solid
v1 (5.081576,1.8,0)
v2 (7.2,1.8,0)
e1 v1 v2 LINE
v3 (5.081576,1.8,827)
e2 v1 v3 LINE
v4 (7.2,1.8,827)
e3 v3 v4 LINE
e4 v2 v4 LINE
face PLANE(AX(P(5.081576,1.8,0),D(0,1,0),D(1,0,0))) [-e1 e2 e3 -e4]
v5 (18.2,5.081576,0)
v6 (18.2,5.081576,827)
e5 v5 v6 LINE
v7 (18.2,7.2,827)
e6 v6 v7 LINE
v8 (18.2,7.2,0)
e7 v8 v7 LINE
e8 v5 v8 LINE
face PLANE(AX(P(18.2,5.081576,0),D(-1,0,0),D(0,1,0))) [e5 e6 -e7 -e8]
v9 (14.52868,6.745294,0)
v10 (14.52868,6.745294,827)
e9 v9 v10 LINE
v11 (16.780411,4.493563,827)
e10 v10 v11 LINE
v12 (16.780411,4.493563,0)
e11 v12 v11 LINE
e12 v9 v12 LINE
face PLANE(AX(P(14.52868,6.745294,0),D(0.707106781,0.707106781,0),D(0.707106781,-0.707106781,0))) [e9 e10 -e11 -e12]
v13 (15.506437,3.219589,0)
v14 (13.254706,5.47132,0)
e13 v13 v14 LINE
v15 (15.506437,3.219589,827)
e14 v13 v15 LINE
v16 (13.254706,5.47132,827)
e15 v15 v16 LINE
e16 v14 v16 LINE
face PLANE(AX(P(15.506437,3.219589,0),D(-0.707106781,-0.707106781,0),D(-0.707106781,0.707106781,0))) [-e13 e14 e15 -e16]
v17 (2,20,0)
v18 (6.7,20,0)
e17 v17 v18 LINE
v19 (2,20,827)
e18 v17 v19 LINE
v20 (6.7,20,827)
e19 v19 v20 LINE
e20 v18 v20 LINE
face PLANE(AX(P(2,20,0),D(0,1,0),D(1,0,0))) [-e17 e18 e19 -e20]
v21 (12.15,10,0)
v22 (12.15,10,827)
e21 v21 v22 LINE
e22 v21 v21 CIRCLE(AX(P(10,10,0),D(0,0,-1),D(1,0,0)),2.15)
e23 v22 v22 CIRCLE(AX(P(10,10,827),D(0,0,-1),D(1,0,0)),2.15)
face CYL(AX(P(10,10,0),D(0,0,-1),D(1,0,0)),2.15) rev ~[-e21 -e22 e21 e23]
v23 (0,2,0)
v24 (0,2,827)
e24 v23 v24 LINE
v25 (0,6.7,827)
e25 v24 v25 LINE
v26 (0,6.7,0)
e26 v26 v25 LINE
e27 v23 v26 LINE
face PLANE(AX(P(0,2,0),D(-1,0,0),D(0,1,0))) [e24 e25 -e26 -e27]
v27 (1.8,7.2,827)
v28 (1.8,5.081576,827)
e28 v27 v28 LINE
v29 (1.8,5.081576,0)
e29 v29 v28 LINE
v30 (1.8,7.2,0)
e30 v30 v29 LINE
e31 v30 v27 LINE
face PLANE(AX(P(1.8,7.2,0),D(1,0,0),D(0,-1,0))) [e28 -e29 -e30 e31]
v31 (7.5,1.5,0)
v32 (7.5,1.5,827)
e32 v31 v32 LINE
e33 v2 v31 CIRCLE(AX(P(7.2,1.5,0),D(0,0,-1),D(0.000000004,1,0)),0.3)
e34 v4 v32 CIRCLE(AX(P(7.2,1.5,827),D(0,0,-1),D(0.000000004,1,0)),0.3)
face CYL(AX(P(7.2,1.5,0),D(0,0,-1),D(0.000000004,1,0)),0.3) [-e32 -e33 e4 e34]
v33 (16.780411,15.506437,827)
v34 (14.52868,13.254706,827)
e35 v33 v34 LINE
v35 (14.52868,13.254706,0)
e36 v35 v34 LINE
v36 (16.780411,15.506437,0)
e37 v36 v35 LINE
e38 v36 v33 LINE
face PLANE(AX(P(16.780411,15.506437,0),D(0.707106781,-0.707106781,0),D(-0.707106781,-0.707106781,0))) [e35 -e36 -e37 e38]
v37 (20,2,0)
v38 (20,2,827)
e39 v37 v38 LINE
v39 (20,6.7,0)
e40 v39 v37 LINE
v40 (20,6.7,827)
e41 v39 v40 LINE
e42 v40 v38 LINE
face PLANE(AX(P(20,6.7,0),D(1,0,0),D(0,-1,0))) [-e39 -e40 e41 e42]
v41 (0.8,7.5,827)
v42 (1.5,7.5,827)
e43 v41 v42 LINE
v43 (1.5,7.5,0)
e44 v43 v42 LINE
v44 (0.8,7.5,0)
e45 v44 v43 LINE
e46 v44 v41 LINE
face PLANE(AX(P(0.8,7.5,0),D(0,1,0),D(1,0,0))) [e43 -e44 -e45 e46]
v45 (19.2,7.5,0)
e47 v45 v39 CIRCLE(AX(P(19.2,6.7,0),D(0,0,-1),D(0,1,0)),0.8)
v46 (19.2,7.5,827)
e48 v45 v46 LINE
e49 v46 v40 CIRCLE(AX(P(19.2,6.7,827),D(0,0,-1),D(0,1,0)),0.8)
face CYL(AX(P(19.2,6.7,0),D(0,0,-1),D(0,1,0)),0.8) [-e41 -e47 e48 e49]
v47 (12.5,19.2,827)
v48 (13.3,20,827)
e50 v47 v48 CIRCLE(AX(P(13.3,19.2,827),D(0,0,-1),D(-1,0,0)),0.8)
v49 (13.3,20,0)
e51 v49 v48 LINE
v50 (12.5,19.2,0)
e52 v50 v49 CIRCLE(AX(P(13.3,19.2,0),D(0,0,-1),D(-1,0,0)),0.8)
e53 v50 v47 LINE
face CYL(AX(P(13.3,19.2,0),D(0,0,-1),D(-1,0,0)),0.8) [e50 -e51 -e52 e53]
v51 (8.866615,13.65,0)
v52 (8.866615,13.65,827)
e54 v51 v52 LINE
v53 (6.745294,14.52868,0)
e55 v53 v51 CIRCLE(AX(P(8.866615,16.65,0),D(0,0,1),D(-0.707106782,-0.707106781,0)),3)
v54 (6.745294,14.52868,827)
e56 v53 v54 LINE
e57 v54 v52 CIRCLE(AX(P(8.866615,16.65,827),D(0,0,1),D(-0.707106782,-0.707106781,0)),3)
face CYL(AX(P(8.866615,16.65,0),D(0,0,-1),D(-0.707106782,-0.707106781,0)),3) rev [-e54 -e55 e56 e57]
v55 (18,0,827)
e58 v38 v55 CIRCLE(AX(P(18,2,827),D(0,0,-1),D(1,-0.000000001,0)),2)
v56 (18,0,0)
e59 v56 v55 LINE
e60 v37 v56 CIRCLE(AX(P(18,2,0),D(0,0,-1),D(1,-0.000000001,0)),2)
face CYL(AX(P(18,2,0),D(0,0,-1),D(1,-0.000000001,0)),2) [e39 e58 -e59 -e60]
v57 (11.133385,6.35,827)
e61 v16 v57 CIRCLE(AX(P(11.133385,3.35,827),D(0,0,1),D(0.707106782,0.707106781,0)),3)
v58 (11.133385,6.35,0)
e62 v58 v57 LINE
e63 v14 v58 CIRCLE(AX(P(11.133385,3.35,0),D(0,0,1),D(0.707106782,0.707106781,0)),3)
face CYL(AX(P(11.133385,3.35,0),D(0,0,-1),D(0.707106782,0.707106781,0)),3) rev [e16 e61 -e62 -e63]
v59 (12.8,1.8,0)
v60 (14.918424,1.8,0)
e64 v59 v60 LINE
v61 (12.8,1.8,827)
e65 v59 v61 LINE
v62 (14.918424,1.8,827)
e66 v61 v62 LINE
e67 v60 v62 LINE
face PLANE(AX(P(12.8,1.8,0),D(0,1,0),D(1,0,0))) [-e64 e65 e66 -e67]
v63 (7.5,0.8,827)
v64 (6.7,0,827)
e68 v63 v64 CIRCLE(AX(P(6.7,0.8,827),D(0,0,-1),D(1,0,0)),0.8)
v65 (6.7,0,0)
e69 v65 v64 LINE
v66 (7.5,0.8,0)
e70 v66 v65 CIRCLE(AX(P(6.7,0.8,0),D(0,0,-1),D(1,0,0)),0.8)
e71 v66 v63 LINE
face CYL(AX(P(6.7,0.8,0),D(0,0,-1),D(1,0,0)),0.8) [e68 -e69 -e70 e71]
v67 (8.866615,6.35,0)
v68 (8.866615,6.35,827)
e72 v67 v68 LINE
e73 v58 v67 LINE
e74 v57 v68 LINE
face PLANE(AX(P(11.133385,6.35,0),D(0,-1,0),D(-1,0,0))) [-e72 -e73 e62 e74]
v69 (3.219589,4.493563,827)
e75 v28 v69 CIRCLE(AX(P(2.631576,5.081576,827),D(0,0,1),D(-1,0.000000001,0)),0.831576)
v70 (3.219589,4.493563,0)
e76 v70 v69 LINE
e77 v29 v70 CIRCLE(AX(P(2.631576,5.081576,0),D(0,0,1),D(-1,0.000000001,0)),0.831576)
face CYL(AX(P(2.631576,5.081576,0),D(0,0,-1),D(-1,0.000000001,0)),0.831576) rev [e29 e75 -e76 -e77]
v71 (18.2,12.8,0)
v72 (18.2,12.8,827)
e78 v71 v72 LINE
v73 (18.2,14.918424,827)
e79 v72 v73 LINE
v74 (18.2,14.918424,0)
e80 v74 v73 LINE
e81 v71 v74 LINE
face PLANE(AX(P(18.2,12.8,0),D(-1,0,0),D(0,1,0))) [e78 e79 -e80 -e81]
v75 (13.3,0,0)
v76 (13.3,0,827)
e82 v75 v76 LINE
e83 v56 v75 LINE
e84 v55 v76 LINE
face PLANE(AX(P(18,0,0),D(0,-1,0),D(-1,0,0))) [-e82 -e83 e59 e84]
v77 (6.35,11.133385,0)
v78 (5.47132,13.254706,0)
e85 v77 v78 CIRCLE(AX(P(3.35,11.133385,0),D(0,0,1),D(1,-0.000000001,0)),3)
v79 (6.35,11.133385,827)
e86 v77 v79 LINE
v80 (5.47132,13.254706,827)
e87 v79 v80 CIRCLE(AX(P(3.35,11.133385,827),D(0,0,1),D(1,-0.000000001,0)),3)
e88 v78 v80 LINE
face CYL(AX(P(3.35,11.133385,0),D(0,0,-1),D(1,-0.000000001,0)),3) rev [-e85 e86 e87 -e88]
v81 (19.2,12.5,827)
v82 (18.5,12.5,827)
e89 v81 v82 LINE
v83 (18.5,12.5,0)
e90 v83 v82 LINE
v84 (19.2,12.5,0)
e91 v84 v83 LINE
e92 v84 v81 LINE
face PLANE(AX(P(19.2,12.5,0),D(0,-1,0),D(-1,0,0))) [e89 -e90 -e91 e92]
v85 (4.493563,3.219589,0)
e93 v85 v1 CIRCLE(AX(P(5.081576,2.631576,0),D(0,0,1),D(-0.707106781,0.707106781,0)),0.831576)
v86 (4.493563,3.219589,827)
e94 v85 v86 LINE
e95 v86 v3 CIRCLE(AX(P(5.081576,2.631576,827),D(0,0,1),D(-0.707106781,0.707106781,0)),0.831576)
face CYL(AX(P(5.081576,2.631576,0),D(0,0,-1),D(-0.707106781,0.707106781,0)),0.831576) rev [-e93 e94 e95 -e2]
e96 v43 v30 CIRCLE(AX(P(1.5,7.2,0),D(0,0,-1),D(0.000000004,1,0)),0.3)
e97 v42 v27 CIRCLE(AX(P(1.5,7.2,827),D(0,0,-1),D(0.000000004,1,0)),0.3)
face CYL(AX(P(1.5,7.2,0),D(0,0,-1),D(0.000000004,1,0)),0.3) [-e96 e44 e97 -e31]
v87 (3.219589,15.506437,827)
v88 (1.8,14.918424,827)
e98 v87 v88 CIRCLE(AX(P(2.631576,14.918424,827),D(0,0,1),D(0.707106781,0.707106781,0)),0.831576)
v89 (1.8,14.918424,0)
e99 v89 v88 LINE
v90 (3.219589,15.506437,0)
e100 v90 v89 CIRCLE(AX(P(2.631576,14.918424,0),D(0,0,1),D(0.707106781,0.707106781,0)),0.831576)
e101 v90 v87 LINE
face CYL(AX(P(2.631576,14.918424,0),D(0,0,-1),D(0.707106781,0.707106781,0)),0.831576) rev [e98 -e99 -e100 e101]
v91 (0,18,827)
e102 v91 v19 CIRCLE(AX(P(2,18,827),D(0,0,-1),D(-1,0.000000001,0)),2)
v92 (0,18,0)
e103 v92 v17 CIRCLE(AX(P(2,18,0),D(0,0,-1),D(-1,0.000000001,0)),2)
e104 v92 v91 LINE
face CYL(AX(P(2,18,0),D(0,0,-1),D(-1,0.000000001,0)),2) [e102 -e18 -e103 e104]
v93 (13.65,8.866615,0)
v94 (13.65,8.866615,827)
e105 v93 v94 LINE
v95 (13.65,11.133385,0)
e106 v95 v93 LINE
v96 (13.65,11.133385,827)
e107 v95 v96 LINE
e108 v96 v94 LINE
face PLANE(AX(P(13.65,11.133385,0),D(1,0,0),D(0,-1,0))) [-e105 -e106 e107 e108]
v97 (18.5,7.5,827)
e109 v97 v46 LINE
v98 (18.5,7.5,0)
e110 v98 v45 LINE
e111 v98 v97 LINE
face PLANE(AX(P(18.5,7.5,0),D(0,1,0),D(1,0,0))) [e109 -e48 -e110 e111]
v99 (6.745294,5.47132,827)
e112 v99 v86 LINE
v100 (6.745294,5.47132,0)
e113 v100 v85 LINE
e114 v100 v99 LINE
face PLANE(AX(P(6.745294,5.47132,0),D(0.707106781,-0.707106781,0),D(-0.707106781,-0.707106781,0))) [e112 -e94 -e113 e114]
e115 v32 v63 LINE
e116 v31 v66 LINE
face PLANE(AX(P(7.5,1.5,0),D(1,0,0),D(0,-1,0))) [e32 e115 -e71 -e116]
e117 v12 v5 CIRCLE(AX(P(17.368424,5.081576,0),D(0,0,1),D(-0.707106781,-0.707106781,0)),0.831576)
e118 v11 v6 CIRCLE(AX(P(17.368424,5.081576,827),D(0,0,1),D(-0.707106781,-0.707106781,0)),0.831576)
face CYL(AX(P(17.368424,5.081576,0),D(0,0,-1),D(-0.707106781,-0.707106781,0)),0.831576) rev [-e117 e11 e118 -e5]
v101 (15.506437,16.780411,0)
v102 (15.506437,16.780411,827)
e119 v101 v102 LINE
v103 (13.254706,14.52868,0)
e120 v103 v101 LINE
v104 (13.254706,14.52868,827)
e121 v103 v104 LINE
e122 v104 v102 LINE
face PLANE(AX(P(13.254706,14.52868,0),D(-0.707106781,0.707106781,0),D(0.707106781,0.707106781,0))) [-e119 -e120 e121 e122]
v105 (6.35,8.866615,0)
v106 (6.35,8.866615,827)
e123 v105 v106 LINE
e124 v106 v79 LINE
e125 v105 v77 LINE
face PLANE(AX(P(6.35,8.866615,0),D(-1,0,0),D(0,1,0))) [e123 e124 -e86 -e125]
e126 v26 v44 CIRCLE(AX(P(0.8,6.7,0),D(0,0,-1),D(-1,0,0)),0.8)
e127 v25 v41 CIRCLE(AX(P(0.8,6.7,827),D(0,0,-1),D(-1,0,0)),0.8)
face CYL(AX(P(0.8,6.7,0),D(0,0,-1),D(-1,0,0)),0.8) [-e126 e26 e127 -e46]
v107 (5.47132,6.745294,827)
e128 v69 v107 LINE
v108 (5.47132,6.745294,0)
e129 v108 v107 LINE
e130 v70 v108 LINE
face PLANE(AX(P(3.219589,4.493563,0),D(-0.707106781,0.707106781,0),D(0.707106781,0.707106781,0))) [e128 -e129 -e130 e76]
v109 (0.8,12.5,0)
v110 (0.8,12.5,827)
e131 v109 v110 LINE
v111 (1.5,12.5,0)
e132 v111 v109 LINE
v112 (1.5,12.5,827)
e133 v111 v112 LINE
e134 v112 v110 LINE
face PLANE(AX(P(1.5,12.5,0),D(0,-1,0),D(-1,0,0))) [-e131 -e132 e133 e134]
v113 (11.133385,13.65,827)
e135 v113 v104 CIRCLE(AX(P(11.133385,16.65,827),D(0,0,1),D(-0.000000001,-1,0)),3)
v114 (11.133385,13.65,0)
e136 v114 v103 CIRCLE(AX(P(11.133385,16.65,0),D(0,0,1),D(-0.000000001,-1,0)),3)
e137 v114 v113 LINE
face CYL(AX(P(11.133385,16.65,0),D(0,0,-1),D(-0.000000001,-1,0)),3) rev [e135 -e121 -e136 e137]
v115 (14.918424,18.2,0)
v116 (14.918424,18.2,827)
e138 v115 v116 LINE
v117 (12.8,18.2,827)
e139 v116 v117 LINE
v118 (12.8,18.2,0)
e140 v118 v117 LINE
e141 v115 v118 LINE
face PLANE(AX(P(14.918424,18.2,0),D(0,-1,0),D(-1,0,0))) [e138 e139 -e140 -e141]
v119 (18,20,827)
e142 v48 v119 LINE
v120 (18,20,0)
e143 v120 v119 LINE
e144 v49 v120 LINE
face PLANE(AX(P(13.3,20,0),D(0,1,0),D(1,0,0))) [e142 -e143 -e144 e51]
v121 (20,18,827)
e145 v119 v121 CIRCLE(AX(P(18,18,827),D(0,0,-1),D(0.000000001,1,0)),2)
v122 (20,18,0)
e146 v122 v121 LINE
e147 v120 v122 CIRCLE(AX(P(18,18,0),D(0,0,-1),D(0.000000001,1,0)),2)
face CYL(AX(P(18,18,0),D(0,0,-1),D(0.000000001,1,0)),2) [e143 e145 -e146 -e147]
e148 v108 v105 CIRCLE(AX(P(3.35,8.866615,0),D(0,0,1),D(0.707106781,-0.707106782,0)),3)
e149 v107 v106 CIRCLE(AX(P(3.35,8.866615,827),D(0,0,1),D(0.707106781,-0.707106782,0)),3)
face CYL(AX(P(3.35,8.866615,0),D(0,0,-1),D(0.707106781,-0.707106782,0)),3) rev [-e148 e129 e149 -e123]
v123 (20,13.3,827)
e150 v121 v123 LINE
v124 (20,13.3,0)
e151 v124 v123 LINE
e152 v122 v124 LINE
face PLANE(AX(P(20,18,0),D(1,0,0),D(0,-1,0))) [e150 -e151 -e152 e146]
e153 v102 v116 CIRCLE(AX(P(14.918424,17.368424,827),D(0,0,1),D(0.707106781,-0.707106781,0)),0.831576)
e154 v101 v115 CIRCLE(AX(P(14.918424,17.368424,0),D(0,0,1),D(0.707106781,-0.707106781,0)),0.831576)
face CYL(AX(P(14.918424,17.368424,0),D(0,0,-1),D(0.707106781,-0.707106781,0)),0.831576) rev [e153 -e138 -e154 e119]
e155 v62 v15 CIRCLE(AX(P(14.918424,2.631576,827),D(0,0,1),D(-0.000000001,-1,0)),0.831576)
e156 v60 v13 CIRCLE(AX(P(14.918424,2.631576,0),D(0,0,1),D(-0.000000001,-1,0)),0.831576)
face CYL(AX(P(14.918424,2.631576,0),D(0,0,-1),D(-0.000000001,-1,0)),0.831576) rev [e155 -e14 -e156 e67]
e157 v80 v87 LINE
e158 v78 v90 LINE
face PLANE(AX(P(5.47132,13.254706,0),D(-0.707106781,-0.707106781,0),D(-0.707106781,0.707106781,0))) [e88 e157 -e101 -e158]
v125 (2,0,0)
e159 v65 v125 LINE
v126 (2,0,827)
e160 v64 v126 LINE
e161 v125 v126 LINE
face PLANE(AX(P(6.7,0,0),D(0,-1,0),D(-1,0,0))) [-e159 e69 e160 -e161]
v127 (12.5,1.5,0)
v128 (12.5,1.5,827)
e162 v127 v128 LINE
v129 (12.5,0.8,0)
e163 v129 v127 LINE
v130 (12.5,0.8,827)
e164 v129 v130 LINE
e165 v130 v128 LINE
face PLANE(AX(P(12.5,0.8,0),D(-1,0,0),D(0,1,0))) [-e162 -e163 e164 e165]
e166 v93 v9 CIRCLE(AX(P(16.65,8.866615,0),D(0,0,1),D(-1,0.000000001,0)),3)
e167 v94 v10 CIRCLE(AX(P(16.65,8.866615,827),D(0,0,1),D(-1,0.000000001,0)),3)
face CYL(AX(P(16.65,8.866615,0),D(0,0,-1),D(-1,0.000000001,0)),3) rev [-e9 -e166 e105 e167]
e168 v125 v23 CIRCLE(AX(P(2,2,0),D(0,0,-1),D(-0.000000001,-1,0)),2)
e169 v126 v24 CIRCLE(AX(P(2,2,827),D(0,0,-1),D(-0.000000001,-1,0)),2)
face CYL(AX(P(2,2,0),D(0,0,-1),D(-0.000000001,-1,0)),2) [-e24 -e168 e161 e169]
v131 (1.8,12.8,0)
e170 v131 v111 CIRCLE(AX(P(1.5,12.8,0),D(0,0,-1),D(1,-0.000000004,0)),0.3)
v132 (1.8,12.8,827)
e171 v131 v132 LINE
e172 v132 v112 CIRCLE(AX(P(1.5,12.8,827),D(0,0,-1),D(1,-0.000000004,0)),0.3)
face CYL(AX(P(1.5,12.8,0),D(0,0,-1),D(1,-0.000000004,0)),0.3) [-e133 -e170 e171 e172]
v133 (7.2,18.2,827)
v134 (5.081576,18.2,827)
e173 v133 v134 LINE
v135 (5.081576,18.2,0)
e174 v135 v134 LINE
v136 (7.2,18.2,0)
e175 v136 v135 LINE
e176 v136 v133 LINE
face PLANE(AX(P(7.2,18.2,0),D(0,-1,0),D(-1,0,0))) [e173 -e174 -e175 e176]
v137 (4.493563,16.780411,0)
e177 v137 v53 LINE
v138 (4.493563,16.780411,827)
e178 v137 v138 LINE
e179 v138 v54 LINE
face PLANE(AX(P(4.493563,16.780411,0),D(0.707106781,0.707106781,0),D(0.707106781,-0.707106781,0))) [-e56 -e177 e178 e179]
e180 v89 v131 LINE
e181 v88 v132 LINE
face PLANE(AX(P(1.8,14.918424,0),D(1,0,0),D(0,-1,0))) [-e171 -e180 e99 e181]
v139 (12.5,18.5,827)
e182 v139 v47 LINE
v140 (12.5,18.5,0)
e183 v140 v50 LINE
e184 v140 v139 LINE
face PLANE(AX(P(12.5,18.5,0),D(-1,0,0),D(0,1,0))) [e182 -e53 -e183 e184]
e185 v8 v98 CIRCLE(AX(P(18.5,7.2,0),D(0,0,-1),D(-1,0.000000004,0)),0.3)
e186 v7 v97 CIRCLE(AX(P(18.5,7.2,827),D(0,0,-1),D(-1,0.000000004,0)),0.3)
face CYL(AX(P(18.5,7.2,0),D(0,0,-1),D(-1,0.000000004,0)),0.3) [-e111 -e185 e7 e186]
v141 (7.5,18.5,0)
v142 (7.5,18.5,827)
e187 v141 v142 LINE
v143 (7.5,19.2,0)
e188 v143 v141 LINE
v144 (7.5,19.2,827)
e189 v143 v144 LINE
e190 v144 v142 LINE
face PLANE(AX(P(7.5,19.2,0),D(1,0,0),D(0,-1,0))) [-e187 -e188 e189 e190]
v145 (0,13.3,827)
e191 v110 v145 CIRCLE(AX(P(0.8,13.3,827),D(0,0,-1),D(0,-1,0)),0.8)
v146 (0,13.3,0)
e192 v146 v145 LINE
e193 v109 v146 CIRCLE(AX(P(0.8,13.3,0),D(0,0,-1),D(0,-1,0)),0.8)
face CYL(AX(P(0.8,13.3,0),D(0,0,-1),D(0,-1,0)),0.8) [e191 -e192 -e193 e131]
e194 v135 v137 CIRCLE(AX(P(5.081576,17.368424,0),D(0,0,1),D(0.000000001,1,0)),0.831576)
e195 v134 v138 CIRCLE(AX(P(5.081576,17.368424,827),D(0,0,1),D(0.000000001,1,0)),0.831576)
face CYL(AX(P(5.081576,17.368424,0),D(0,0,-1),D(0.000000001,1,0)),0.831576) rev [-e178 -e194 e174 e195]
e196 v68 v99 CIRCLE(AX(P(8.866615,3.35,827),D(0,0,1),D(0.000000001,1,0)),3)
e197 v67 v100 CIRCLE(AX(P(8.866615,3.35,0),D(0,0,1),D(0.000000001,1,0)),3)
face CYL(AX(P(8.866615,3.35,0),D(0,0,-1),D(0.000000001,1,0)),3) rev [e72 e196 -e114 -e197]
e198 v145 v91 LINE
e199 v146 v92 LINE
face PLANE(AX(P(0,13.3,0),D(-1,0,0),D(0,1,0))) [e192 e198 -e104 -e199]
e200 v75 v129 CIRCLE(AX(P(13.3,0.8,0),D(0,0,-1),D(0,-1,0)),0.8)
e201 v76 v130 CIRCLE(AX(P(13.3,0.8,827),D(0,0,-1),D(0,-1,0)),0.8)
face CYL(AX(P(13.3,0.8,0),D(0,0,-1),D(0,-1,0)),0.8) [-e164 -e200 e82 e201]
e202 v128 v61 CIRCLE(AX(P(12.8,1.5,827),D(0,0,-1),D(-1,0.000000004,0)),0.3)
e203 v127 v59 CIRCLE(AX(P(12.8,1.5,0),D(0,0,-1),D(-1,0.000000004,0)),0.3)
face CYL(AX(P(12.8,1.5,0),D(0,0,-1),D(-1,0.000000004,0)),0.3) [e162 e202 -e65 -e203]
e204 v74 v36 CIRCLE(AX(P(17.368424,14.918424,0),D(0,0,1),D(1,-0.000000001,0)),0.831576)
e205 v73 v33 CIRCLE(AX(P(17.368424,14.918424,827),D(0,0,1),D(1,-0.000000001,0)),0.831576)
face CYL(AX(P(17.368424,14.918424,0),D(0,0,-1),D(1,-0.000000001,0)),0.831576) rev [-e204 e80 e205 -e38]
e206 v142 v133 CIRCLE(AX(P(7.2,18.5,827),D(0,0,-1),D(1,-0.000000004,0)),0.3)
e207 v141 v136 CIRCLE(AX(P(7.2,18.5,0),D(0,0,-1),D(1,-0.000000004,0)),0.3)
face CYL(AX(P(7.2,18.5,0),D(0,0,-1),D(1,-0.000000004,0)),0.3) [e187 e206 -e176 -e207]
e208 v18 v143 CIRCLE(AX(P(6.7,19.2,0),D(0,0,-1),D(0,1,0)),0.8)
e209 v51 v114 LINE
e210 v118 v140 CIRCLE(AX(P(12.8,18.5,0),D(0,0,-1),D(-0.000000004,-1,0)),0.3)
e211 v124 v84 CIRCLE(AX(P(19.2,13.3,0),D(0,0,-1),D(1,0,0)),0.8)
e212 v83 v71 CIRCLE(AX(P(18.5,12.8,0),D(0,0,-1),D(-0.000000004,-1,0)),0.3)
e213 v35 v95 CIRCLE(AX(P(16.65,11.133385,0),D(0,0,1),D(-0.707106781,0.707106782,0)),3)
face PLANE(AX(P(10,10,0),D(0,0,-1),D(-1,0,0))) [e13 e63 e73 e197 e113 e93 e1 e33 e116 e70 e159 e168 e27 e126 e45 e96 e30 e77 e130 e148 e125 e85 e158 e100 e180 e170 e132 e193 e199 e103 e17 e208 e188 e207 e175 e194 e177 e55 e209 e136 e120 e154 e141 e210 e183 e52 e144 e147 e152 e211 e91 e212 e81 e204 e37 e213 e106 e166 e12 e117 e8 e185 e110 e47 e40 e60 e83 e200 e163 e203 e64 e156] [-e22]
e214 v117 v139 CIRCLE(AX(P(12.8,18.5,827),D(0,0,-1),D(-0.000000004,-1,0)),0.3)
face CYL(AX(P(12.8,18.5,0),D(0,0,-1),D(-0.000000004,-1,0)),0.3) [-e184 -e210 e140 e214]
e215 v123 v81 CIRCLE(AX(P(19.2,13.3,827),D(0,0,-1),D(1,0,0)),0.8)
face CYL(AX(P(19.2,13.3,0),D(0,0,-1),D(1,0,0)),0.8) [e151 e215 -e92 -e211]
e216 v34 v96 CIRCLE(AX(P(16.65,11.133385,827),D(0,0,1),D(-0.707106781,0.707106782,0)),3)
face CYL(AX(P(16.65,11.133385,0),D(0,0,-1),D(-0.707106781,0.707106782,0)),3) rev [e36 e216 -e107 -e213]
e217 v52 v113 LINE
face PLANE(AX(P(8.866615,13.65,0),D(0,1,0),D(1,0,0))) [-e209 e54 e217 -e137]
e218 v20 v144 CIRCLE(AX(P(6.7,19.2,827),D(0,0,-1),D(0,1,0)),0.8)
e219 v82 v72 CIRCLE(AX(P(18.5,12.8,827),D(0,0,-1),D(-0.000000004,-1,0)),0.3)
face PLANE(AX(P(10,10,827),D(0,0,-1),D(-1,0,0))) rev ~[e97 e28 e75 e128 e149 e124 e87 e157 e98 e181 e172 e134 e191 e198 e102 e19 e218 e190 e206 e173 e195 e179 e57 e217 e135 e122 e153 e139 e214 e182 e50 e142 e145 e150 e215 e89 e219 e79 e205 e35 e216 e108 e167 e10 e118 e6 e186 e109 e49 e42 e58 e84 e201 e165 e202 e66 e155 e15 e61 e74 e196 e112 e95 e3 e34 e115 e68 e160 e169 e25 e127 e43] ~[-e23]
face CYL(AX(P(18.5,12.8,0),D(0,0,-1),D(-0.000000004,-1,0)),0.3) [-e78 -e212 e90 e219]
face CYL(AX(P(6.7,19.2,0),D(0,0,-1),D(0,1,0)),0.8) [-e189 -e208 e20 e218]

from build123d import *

# Parameters (mm, degrees)
ESQUISSE1_R        = 2.15
BOSS_EXTRU_1_DEPTH = 827


with BuildPart() as part:
    # Esquisse1 → Boss.-Extru.1 (new body)
    with BuildSketch(Plane(origin=(0, 0, 0), x_dir=(-1, 0, 0), z_dir=(0, 0, -1))):
        with BuildLine():
            Line((-20, 6.7), (-20, 2))
            ThreePointArc((-20, 2), (-19.414213562, 0.585786438), (-18, 0))
            Line((-18, 0), (-13.3, 0))
            ThreePointArc((-13.3, 0), (-12.734314575, 0.234314575), (-12.5, 0.8))
            Line((-12.5, 0.8), (-12.5, 1.5))
            ThreePointArc((-12.5, 1.5), (-12.587867966, 1.712132034), (-12.8, 1.8))
            Line((-12.8, 1.8), (-14.918424061, 1.8))
            ThreePointArc((-14.918424061, 1.8), (-15.686700051, 2.313345604), (-15.506437047, 3.219588924))
            Line((-15.506437047, 3.219588924), (-13.254705627, 5.471320344))
            ThreePointArc((-13.254705627, 5.471320344), (-12.281435581, 6.121638598), (-11.133385284, 6.35))
            Line((-11.133385284, 6.35), (-8.866614716, 6.35))
            ThreePointArc((-8.866614716, 6.35), (-7.718564419, 6.121638598), (-6.745294373, 5.471320344))
            Line((-6.745294373, 5.471320344), (-4.493562953, 3.219588924))
            ThreePointArc((-4.493562953, 3.219588924), (-4.313299949, 2.313345604), (-5.081575939, 1.8))
            Line((-5.081575939, 1.8), (-7.2, 1.8))
            ThreePointArc((-7.2, 1.8), (-7.412132034, 1.712132034), (-7.5, 1.5))
            Line((-7.5, 1.5), (-7.5, 0.8))
            ThreePointArc((-7.5, 0.8), (-7.265685425, 0.234314575), (-6.7, 0))
            Line((-6.7, 0), (-2, 0))
            ThreePointArc((-2, 0), (-0.585786438, 0.585786438), (0, 2))
            Line((0, 2), (0, 6.7))
            ThreePointArc((0, 6.7), (-0.234314575, 7.265685425), (-0.8, 7.5))
            Line((-0.8, 7.5), (-1.5, 7.5))
            ThreePointArc((-1.5, 7.5), (-1.712132034, 7.412132034), (-1.8, 7.2))
            Line((-1.8, 7.2), (-1.8, 5.081575939))
            ThreePointArc((-1.8, 5.081575939), (-2.313345604, 4.313299949), (-3.219588924, 4.493562953))
            Line((-3.219588924, 4.493562953), (-5.471320344, 6.745294373))
            ThreePointArc((-5.471320344, 6.745294373), (-6.121638598, 7.718564419), (-6.35, 8.866614716))
            Line((-6.35, 8.866614716), (-6.35, 11.133385284))
            ThreePointArc((-6.35, 11.133385284), (-6.121638598, 12.281435581), (-5.471320344, 13.254705627))
            Line((-5.471320344, 13.254705627), (-3.219588924, 15.506437047))
            ThreePointArc((-3.219588924, 15.506437047), (-2.313345604, 15.686700051), (-1.8, 14.918424061))
            Line((-1.8, 14.918424061), (-1.8, 12.8))
            ThreePointArc((-1.8, 12.8), (-1.712132034, 12.587867966), (-1.5, 12.5))
            Line((-1.5, 12.5), (-0.8, 12.5))
            ThreePointArc((-0.8, 12.5), (-0.234314575, 12.734314575), (0, 13.3))
            Line((0, 13.3), (0, 18))
            ThreePointArc((0, 18), (-0.585786438, 19.414213562), (-2, 20))
            Line((-2, 20), (-6.7, 20))
            ThreePointArc((-6.7, 20), (-7.265685425, 19.765685425), (-7.5, 19.2))
            Line((-7.5, 19.2), (-7.5, 18.5))
            ThreePointArc((-7.5, 18.5), (-7.412132034, 18.287867966), (-7.2, 18.2))
            Line((-7.2, 18.2), (-5.081575939, 18.2))
            ThreePointArc((-5.081575939, 18.2), (-4.313299949, 17.686654396), (-4.493562953, 16.780411076))
            Line((-4.493562953, 16.780411076), (-6.745294373, 14.528679656))
            ThreePointArc((-6.745294373, 14.528679656), (-7.718564419, 13.878361402), (-8.866614716, 13.65))
            Line((-8.866614716, 13.65), (-11.133385284, 13.65))
            ThreePointArc((-11.133385284, 13.65), (-12.281435581, 13.878361402), (-13.254705627, 14.528679656))
            Line((-13.254705627, 14.528679656), (-15.506437047, 16.780411076))
            ThreePointArc((-15.506437047, 16.780411076), (-15.686700051, 17.686654396), (-14.918424061, 18.2))
            Line((-14.918424061, 18.2), (-12.8, 18.2))
            ThreePointArc((-12.8, 18.2), (-12.587867966, 18.287867966), (-12.5, 18.5))
            Line((-12.5, 18.5), (-12.5, 19.2))
            ThreePointArc((-12.5, 19.2), (-12.734314575, 19.765685425), (-13.3, 20))
            Line((-13.3, 20), (-18, 20))
            ThreePointArc((-18, 20), (-19.414213562, 19.414213562), (-20, 18))
            Line((-20, 18), (-20, 13.3))
            ThreePointArc((-20, 13.3), (-19.765685425, 12.734314575), (-19.2, 12.5))
            Line((-19.2, 12.5), (-18.5, 12.5))
            ThreePointArc((-18.5, 12.5), (-18.287867966, 12.587867966), (-18.2, 12.8))
            Line((-18.2, 12.8), (-18.2, 14.918424061))
            ThreePointArc((-18.2, 14.918424061), (-17.686654396, 15.686700051), (-16.780411076, 15.506437047))
            Line((-16.780411076, 15.506437047), (-14.528679656, 13.254705627))
            ThreePointArc((-14.528679656, 13.254705627), (-13.878361402, 12.281435581), (-13.65, 11.133385284))
            Line((-13.65, 11.133385284), (-13.65, 8.866614716))
            ThreePointArc((-13.65, 8.866614716), (-13.878361402, 7.718564419), (-14.528679656, 6.745294373))
            Line((-14.528679656, 6.745294373), (-16.780411076, 4.493562953))
            ThreePointArc((-16.780411076, 4.493562953), (-17.686654396, 4.313299949), (-18.2, 5.081575939))
            Line((-18.2, 5.081575939), (-18.2, 7.2))
            ThreePointArc((-18.2, 7.2), (-18.287867966, 7.412132034), (-18.5, 7.5))
            Line((-18.5, 7.5), (-19.2, 7.5))
            ThreePointArc((-19.2, 7.5), (-19.765685425, 7.265685425), (-20, 6.7))
        make_face()
        with Locations(Location((-10, 10, 0), (0, 0, 180))):
            Circle(ESQUISSE1_R, mode=Mode.SUBTRACT)
    extrude(amount=-BOSS_EXTRU_1_DEPTH)


solid = part.part
